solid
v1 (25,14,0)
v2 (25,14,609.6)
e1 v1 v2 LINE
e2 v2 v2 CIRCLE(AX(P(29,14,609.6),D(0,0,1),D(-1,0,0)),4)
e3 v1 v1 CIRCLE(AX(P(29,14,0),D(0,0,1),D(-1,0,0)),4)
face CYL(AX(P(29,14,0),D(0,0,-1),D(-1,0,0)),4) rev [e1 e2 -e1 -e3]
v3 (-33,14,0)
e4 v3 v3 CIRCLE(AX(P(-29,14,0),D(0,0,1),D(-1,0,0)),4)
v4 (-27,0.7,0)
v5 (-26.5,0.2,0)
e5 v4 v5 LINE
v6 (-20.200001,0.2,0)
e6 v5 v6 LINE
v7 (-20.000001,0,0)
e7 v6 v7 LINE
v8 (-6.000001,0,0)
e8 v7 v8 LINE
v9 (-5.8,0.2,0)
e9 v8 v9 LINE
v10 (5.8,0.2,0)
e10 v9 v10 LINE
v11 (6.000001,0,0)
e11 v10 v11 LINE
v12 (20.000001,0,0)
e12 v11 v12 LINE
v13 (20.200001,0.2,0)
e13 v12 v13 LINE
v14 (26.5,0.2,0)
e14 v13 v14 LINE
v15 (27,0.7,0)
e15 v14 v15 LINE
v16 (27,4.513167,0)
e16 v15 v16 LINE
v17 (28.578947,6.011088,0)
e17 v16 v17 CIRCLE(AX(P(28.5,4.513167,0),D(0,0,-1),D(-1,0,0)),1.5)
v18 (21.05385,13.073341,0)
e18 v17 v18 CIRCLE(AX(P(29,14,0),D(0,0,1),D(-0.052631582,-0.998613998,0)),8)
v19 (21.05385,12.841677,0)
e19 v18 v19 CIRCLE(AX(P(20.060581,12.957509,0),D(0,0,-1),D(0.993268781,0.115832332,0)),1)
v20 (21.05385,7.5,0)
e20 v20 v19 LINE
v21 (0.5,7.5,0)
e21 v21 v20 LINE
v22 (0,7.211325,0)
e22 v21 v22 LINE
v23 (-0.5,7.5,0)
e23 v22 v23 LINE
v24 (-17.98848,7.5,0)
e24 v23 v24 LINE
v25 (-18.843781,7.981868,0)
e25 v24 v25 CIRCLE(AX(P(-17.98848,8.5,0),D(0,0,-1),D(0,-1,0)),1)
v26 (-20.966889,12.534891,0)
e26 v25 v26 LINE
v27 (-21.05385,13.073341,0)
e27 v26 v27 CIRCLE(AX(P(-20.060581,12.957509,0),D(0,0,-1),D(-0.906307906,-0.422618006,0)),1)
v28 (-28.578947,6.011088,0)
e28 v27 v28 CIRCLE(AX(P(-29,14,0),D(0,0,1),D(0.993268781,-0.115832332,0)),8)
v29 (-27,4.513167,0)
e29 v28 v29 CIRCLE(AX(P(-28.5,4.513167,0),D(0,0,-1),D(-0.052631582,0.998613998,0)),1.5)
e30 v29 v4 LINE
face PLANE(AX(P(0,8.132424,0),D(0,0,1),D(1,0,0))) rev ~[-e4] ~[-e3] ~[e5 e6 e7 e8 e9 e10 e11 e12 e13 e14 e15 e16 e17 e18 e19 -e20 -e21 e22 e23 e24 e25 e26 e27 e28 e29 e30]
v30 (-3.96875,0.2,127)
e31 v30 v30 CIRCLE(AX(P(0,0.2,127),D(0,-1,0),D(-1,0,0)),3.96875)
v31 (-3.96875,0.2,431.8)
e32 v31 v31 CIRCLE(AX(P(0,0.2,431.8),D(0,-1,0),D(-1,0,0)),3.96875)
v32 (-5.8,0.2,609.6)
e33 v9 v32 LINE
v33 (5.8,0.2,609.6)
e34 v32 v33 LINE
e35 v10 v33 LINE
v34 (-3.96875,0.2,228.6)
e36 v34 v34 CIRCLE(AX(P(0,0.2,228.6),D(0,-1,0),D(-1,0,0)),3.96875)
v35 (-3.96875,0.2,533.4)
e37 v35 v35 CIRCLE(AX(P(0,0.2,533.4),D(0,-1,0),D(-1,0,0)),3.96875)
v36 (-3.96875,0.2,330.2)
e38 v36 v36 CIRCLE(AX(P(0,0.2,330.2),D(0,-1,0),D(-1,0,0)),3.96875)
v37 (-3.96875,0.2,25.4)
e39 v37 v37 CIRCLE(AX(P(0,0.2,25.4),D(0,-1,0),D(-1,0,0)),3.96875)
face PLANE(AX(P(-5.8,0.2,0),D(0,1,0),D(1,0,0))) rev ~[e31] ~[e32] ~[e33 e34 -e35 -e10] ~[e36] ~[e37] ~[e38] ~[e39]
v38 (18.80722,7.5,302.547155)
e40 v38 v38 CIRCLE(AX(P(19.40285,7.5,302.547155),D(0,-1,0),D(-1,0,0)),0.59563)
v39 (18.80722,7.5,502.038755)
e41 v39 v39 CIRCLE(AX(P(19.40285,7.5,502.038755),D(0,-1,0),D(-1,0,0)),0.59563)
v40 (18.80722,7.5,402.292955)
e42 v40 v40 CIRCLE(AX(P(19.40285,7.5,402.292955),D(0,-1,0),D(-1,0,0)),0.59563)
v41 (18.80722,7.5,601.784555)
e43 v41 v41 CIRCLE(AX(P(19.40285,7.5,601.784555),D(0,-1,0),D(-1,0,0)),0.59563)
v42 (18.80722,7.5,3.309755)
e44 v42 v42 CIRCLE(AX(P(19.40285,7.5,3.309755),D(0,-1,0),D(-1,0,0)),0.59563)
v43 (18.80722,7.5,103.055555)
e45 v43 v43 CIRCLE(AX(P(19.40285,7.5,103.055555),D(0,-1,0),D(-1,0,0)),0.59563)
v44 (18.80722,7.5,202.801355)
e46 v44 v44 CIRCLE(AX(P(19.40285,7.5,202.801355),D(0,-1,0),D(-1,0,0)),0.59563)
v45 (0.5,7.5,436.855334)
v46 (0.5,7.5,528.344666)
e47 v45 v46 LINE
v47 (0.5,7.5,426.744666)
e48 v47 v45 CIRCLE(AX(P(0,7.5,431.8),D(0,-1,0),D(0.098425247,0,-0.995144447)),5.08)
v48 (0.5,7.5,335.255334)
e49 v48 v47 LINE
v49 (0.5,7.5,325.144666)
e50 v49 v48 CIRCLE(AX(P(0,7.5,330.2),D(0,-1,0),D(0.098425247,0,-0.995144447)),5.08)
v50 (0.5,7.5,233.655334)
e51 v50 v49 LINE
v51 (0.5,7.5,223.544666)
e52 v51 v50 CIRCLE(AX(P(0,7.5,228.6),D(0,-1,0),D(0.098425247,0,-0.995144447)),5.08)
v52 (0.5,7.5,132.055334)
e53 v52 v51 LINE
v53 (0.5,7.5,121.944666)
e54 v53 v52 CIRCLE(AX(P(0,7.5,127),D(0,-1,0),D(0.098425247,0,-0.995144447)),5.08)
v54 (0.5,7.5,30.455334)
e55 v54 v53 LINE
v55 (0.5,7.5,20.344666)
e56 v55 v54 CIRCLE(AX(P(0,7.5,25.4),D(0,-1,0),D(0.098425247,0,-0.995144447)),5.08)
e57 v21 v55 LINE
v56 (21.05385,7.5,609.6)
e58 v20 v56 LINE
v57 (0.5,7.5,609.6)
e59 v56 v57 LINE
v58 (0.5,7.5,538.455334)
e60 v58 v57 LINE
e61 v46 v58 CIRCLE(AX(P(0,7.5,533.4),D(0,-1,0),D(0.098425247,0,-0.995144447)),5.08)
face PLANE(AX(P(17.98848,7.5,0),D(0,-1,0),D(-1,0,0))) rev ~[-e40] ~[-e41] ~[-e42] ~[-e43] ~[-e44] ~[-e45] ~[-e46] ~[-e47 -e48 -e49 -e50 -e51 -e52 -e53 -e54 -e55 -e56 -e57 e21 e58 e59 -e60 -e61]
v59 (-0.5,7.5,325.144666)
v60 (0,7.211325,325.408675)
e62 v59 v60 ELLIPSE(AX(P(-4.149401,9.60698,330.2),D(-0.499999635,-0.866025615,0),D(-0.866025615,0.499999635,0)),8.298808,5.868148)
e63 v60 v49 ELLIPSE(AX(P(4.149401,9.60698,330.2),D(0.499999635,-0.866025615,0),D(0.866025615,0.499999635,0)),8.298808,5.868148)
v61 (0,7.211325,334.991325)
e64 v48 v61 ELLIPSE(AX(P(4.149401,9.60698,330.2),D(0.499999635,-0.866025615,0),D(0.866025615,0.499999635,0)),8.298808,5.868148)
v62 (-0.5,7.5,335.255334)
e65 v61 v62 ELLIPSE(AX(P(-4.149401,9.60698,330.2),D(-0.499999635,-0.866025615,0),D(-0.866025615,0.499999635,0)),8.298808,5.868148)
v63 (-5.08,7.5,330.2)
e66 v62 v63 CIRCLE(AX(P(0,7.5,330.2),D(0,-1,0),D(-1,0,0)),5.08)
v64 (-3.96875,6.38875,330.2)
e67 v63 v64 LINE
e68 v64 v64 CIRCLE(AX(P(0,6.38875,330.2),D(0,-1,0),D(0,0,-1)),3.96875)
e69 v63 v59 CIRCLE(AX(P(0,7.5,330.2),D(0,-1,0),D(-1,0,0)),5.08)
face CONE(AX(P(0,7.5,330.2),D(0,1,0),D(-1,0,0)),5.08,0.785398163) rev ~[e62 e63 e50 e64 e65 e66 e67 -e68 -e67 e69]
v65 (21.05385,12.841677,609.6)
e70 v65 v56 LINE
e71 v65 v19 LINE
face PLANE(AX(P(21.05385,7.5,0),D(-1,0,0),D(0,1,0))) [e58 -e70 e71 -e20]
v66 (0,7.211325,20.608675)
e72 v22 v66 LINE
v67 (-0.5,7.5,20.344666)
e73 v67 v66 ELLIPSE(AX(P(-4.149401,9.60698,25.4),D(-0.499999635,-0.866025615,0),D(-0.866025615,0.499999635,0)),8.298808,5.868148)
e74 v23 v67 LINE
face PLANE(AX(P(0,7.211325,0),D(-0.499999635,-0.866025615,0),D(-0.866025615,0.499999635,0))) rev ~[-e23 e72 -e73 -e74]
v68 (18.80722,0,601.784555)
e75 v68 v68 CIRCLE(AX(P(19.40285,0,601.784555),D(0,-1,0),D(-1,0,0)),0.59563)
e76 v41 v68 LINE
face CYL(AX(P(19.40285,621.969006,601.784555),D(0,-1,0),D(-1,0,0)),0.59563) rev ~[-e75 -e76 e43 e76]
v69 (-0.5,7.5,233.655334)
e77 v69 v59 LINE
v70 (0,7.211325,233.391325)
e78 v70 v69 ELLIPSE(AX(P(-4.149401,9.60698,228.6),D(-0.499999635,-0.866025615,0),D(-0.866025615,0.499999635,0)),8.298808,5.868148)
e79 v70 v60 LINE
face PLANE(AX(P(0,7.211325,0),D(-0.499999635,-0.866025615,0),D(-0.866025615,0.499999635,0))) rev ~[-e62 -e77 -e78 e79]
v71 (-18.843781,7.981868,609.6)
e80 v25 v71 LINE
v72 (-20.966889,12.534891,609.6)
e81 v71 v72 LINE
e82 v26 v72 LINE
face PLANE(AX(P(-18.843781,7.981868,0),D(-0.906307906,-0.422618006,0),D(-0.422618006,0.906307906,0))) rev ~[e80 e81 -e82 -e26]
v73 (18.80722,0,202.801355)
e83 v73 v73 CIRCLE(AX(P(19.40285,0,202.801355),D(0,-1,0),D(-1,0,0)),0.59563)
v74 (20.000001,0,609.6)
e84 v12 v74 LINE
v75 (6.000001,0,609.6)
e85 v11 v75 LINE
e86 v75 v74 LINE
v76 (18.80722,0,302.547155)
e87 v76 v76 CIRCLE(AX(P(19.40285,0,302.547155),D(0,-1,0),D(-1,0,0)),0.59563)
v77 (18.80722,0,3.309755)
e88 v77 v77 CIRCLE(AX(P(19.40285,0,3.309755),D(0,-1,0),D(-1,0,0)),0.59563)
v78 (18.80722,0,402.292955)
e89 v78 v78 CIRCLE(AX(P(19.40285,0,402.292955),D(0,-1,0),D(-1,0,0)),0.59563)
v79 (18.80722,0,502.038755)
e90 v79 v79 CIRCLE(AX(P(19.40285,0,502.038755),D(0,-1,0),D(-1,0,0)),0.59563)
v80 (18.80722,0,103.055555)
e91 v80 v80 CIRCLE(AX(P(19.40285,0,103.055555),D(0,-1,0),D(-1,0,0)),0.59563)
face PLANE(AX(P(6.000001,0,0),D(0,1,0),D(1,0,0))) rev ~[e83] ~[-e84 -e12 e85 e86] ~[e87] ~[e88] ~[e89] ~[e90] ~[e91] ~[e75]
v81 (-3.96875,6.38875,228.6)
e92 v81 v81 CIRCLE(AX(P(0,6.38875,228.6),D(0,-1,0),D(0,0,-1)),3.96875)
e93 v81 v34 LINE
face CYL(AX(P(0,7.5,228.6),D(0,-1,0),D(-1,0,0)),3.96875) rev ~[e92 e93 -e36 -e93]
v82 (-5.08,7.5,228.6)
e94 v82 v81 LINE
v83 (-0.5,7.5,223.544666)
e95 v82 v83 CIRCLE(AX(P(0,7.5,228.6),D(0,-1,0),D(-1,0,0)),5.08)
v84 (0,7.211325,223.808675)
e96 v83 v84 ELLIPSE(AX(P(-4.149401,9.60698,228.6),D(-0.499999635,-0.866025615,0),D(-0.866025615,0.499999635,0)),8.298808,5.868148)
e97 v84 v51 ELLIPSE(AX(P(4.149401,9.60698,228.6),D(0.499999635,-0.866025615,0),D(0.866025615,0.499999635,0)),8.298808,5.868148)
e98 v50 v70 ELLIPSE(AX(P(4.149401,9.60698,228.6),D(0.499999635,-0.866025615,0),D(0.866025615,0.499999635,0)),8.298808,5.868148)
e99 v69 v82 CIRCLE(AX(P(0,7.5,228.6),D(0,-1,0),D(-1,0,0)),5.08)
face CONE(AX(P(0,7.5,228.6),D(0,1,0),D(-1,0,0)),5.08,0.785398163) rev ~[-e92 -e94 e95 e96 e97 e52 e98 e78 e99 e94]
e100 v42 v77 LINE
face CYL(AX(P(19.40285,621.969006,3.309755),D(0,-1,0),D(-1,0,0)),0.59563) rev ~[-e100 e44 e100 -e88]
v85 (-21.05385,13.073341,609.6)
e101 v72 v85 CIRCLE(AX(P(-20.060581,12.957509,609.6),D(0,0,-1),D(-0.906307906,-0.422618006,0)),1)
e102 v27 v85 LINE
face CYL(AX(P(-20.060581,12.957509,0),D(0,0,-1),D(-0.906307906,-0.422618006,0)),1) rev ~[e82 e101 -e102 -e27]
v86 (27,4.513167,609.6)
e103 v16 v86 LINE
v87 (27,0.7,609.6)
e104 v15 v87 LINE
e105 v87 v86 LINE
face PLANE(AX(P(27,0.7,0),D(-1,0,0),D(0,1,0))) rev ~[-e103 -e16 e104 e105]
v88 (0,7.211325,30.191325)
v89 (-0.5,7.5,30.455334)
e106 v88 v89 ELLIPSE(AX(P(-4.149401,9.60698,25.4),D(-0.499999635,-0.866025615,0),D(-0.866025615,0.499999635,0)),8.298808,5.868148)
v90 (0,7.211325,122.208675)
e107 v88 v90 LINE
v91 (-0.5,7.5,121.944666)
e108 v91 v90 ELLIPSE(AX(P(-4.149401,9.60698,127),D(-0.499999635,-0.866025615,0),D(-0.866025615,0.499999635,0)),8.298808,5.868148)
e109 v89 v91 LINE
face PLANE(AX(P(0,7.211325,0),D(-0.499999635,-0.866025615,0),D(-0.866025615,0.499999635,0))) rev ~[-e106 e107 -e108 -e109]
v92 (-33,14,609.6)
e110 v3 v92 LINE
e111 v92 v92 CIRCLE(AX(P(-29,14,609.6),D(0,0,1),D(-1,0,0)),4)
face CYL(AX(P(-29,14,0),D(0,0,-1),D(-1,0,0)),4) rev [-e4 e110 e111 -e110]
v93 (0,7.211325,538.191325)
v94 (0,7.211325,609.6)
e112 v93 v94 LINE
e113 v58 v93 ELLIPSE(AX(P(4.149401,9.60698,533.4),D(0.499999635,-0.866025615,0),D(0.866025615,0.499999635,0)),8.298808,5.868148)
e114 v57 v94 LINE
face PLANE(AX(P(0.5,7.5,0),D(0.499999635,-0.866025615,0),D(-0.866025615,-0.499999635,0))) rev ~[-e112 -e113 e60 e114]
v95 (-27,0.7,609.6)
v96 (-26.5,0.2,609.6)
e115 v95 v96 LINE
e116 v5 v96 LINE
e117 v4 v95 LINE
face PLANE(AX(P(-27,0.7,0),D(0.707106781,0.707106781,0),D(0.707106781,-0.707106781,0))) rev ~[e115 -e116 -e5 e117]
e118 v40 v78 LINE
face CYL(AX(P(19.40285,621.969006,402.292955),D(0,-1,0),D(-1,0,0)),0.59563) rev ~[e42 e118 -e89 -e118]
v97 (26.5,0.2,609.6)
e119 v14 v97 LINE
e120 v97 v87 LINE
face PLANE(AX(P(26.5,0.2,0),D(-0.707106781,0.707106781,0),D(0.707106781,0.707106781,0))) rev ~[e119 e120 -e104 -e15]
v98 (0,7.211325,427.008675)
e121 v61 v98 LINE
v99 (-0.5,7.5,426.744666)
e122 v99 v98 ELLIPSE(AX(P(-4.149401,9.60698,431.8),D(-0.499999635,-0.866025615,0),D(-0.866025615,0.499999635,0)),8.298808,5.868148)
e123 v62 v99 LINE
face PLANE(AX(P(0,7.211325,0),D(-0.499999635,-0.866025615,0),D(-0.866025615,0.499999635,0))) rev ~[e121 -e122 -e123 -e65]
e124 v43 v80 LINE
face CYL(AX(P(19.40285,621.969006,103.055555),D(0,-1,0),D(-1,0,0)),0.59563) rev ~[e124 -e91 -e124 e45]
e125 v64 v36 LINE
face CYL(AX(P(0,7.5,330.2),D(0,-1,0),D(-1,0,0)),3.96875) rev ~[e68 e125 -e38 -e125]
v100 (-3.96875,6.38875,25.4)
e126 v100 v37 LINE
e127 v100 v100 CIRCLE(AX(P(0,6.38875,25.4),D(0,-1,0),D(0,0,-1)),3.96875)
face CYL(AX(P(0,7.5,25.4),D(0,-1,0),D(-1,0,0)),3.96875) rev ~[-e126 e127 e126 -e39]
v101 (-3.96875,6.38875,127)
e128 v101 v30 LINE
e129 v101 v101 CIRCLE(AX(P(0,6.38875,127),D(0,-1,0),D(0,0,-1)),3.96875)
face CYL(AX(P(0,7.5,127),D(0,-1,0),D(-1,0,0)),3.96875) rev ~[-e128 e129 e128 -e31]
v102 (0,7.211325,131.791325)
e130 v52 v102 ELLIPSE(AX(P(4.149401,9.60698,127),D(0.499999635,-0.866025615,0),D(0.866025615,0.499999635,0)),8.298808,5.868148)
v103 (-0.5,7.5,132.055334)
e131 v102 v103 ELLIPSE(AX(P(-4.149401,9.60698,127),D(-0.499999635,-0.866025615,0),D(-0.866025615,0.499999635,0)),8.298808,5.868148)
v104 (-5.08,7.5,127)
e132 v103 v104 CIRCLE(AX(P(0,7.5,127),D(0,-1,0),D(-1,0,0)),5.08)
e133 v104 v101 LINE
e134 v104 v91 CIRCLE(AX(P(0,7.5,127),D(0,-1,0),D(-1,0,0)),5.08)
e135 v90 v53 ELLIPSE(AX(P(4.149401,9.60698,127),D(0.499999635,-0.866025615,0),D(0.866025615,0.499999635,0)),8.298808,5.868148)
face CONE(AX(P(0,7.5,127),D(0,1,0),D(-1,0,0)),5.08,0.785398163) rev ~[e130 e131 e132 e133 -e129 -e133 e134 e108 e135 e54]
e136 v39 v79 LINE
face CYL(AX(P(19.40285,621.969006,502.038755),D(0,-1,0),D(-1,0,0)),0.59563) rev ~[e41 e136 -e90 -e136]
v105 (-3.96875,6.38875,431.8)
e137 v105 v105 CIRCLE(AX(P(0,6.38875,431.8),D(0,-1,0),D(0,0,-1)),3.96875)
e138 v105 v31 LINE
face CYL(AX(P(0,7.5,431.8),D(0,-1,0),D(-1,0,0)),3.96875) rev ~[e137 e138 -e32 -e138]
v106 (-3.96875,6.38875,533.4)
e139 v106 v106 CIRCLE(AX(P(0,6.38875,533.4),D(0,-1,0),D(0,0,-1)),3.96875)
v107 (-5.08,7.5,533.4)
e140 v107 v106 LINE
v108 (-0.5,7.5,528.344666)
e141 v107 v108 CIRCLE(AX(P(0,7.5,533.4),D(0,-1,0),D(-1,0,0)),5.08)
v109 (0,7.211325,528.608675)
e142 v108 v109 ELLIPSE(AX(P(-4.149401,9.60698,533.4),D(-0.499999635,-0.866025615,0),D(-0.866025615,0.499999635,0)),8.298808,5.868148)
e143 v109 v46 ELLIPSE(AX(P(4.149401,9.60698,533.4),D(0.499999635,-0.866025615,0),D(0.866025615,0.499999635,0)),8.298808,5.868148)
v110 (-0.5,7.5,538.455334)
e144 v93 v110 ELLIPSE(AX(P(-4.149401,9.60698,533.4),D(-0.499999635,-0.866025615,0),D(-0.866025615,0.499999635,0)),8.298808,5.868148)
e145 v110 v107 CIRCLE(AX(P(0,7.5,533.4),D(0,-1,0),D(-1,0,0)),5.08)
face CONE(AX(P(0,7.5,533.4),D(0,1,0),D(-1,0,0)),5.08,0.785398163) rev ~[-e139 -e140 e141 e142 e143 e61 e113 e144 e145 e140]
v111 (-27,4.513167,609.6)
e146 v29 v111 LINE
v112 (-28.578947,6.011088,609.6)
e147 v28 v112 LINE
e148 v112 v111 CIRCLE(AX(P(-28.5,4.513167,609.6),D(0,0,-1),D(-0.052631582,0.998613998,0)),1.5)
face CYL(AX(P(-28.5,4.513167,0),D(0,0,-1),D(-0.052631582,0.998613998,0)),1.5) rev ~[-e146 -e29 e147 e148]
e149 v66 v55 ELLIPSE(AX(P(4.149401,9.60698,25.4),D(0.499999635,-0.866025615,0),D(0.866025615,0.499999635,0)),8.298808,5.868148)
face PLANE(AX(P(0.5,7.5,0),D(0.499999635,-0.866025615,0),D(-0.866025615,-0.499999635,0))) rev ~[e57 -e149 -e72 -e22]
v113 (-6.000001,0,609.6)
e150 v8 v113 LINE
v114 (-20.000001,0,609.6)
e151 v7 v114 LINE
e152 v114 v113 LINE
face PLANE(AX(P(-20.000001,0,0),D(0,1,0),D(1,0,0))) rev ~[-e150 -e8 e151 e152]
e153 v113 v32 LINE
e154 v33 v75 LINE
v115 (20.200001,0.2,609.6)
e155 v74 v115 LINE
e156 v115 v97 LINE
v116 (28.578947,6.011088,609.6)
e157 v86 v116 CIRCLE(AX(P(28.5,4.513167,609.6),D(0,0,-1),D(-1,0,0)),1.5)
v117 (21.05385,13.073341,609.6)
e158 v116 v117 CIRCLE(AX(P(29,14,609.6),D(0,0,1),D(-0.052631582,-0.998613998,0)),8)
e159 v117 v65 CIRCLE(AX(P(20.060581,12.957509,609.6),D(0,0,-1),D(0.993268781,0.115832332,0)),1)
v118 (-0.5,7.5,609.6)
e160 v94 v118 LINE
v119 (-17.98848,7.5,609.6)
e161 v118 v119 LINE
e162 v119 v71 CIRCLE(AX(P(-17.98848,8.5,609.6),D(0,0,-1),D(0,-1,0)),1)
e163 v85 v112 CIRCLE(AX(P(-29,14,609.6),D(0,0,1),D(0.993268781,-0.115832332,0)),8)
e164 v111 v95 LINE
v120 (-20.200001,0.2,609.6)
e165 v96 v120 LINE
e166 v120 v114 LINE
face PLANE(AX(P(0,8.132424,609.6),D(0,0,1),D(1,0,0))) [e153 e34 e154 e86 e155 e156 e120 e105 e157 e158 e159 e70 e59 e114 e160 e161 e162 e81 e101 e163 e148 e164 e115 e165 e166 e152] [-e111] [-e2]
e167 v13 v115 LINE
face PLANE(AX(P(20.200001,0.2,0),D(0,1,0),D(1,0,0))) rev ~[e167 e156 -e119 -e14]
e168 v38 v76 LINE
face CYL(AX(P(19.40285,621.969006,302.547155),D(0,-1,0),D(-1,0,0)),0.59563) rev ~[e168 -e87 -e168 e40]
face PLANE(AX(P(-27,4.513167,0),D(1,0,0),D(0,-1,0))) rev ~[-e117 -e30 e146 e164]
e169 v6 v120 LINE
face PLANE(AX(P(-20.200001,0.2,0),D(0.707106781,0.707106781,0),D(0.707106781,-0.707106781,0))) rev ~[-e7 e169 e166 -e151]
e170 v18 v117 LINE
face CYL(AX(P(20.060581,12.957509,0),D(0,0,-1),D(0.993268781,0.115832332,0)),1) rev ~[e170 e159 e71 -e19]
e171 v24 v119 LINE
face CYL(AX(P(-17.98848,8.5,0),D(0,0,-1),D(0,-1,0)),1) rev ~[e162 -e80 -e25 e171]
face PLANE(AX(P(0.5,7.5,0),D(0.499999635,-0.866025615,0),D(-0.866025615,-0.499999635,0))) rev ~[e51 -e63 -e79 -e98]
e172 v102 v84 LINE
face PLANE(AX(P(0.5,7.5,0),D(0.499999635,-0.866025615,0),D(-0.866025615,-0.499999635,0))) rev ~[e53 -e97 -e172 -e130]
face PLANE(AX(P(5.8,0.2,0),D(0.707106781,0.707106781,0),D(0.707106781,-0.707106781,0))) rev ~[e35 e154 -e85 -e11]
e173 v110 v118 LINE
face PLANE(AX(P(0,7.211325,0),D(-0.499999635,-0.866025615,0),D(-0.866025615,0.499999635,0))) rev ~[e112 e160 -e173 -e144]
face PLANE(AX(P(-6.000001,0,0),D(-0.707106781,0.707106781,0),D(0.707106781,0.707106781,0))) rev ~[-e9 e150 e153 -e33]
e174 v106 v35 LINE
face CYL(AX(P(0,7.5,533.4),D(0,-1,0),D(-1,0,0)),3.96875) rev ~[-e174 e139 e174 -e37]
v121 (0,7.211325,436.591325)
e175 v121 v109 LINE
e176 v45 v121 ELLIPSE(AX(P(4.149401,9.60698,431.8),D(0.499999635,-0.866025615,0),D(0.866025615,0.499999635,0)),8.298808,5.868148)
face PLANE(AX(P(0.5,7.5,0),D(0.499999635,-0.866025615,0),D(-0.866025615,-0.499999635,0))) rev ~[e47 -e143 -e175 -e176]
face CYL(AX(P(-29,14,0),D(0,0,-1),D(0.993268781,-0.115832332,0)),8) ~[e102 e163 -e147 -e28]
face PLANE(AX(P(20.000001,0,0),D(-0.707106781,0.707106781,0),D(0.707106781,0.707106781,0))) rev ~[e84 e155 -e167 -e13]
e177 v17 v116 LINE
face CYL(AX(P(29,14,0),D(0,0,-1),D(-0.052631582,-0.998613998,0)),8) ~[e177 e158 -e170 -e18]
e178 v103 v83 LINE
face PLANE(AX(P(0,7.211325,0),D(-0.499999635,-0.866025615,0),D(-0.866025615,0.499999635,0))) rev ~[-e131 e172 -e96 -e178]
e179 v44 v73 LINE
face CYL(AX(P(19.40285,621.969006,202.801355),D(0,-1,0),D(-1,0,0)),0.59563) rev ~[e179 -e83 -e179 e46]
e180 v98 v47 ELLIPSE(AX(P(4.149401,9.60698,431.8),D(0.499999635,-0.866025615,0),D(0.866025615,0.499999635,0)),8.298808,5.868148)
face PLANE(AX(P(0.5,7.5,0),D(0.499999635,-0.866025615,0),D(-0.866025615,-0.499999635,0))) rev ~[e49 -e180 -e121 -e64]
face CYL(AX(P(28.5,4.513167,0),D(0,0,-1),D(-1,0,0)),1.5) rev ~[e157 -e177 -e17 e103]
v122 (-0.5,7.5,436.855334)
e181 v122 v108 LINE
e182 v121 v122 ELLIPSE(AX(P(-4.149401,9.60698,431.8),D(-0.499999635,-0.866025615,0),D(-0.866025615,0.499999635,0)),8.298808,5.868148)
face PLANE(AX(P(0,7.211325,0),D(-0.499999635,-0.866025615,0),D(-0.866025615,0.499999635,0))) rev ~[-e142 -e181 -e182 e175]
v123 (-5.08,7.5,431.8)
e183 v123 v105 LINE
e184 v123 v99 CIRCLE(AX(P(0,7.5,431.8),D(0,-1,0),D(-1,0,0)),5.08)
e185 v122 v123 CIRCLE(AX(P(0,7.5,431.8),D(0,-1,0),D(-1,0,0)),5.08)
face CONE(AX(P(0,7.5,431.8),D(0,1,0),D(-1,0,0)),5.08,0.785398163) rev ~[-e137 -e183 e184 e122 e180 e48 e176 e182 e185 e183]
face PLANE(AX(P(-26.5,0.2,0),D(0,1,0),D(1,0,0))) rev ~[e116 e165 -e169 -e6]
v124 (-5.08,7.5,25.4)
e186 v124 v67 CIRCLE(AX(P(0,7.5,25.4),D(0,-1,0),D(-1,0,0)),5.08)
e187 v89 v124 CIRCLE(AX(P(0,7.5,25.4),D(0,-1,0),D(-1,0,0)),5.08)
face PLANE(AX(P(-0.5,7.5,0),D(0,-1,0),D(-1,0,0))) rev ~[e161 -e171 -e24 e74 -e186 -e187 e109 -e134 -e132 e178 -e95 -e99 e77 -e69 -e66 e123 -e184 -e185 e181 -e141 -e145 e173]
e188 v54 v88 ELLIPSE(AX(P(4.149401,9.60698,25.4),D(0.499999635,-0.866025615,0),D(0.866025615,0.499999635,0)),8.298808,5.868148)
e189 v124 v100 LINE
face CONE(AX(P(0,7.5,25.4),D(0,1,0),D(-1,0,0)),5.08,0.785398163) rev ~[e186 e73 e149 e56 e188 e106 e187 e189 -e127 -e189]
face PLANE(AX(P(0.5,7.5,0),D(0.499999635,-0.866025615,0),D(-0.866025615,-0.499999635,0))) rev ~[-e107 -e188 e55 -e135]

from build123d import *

# Parameters (mm, degrees)
MODEL_R                           = 3.999999997
BOSS_EXTRUDE1_DEPTH               = 609.6
F_3_8_16_TAPPED_HOLE1_D           = 7.9375
F_3_8_16_TAPPED_HOLE1_CSINK_D     = 10.16
F_3_8_16_TAPPED_HOLE1_CSINK_ANGLE = 90
CUT_EXTRUDE1_DEPTH                = 612.11795915
TAP_DRILL_FOR_0_80_TAP1_D         = 1.19126


with BuildPart() as part:
    # Model → Boss-Extrude1 (new body)
    with BuildSketch(Plane.XY):
        with BuildLine():
            Line((-18.843780991, 7.981867858), (-20.966888929, 12.534890876))
            ThreePointArc((-20.966888929, 12.534890876), (-21.047789267, 12.798072701), (-21.053849819, 13.07334131))
            ThreePointArc((-21.053849819, 13.07334131), (-34.474612004, 19.833405747), (-28.578947374, 6.011088019))
            ThreePointArc((-28.578947374, 6.011088019), (-27.4676292, 5.601381399), (-27.000000001, 4.513167022))
            Line((-27.000000001, 4.513167022), (-27.000000001, 0.700000022))
            Line((-27.000000001, 0.700000022), (-26.500000001, 0.200000022))
            Line((-26.500000001, 0.200000022), (-20.200001001, 0.200000022))
            Line((-20.200001001, 0.200000022), (-20.000000979, 0))
            Line((-20.000000979, 0), (-6.000000502, 0))
            Line((-6.000000502, 0), (-5.80000048, 0.200000022))
            Line((-5.80000048, 0.200000022), (5.80000048, 0.200000022))
            Line((5.80000048, 0.200000022), (6.000000502, 0))
            Line((6.000000502, 0), (20.000000979, 0))
            Line((20.000000979, 0), (20.200001001, 0.200000022))
            Line((20.200001001, 0.200000022), (26.500000001, 0.200000022))
            Line((26.500000001, 0.200000022), (27.000000001, 0.700000022))
            Line((27.000000001, 0.700000022), (27.000000001, 4.513167022))
            ThreePointArc((27.000000001, 4.513167022), (27.4676292, 5.601381399), (28.578947374, 6.011088019))
            ThreePointArc((28.578947374, 6.011088019), (34.474612004, 19.833405747), (21.053849819, 13.07334131))
            ThreePointArc((21.053849819, 13.07334131), (21.047789267, 12.798072701), (20.966888929, 12.534890876))
            Line((20.966888929, 12.534890876), (18.843780991, 7.981867858))
            ThreePointArc((18.843780991, 7.981867858), (18.479330527, 7.628755749), (17.98848008, 7.499999621))
            Line((17.98848008, 7.499999621), (0.500000254, 7.499999621))
            Line((0.500000254, 7.499999621), (0, 7.211324621))
            Line((0, 7.211324621), (-0.500000254, 7.499999621))
            Line((-0.500000254, 7.499999621), (-17.98848008, 7.499999621))
            ThreePointArc((-17.98848008, 7.499999621), (-18.479330527, 7.628755749), (-18.843780991, 7.981867858))
        make_face()
        with Locations(Location((-29.000000026, 13.999999962, 0), (0, 0, 180))):
            Circle(MODEL_R, mode=Mode.SUBTRACT)
        with Locations(Location((29.000000026, 13.999999962, 0), (0, 0, 180))):
            Circle(MODEL_R, mode=Mode.SUBTRACT)
    extrude(amount=BOSS_EXTRUDE1_DEPTH)

    # 3/8-16 Tapped Hole1 (through all)
    with Locations(Plane(origin=(0, 7.499999621, 0), x_dir=(1, 0, 0), z_dir=(0, 1, 0))):
        with Locations((0, -25.4), (0, -127), (0, -228.6), (0, -330.2), (0, -431.8), (0, -533.4), (0, -635), (0, -736.6), (0, -838.2), (0, -939.8), (0, -1041.4), (0, -1143), (0, -1244.6), (0, -1346.2), (0, -1447.8), (0, -1549.4), (0, -1651), (0, -1752.6), (0, -1854.2), (0, -1955.8)):
            CounterSinkHole(F_3_8_16_TAPPED_HOLE1_D / 2, F_3_8_16_TAPPED_HOLE1_CSINK_D / 2, counter_sink_angle=F_3_8_16_TAPPED_HOLE1_CSINK_ANGLE)

    # Sketch3 → Cut-Extrude1 (cut, through all)
    with BuildSketch(Plane(origin=(0, 0, 0), x_dir=(-1, 0, 0), z_dir=(0, 0, -1))):
        Polygon((-17.98848008, 7.499999621), (-21.053849819, 7.499999621), (-21.053849819, 13.07334131), align=None)
    extrude(amount=-CUT_EXTRUDE1_DEPTH, mode=Mode.SUBTRACT)

    # Tap Drill for #0-80 Tap1 (through all)
    with Locations(Plane(origin=(0, 7.499999621, 0), x_dir=(1, 0, 0), z_dir=(0, 1, 0))):
        with Locations((19.402849819, -3.309755123), (19.402849819, -103.055555123), (19.402849819, -202.801355123), (19.402849819, -302.547155123), (19.402849819, -402.292955123), (19.402849819, -502.038755123), (19.402849819, -601.784555123), (19.402849819, -701.530355123), (19.402849819, -801.276155123), (19.402849819, -901.021955123)):
            Hole(TAP_DRILL_FOR_0_80_TAP1_D / 2)


solid = part.part
